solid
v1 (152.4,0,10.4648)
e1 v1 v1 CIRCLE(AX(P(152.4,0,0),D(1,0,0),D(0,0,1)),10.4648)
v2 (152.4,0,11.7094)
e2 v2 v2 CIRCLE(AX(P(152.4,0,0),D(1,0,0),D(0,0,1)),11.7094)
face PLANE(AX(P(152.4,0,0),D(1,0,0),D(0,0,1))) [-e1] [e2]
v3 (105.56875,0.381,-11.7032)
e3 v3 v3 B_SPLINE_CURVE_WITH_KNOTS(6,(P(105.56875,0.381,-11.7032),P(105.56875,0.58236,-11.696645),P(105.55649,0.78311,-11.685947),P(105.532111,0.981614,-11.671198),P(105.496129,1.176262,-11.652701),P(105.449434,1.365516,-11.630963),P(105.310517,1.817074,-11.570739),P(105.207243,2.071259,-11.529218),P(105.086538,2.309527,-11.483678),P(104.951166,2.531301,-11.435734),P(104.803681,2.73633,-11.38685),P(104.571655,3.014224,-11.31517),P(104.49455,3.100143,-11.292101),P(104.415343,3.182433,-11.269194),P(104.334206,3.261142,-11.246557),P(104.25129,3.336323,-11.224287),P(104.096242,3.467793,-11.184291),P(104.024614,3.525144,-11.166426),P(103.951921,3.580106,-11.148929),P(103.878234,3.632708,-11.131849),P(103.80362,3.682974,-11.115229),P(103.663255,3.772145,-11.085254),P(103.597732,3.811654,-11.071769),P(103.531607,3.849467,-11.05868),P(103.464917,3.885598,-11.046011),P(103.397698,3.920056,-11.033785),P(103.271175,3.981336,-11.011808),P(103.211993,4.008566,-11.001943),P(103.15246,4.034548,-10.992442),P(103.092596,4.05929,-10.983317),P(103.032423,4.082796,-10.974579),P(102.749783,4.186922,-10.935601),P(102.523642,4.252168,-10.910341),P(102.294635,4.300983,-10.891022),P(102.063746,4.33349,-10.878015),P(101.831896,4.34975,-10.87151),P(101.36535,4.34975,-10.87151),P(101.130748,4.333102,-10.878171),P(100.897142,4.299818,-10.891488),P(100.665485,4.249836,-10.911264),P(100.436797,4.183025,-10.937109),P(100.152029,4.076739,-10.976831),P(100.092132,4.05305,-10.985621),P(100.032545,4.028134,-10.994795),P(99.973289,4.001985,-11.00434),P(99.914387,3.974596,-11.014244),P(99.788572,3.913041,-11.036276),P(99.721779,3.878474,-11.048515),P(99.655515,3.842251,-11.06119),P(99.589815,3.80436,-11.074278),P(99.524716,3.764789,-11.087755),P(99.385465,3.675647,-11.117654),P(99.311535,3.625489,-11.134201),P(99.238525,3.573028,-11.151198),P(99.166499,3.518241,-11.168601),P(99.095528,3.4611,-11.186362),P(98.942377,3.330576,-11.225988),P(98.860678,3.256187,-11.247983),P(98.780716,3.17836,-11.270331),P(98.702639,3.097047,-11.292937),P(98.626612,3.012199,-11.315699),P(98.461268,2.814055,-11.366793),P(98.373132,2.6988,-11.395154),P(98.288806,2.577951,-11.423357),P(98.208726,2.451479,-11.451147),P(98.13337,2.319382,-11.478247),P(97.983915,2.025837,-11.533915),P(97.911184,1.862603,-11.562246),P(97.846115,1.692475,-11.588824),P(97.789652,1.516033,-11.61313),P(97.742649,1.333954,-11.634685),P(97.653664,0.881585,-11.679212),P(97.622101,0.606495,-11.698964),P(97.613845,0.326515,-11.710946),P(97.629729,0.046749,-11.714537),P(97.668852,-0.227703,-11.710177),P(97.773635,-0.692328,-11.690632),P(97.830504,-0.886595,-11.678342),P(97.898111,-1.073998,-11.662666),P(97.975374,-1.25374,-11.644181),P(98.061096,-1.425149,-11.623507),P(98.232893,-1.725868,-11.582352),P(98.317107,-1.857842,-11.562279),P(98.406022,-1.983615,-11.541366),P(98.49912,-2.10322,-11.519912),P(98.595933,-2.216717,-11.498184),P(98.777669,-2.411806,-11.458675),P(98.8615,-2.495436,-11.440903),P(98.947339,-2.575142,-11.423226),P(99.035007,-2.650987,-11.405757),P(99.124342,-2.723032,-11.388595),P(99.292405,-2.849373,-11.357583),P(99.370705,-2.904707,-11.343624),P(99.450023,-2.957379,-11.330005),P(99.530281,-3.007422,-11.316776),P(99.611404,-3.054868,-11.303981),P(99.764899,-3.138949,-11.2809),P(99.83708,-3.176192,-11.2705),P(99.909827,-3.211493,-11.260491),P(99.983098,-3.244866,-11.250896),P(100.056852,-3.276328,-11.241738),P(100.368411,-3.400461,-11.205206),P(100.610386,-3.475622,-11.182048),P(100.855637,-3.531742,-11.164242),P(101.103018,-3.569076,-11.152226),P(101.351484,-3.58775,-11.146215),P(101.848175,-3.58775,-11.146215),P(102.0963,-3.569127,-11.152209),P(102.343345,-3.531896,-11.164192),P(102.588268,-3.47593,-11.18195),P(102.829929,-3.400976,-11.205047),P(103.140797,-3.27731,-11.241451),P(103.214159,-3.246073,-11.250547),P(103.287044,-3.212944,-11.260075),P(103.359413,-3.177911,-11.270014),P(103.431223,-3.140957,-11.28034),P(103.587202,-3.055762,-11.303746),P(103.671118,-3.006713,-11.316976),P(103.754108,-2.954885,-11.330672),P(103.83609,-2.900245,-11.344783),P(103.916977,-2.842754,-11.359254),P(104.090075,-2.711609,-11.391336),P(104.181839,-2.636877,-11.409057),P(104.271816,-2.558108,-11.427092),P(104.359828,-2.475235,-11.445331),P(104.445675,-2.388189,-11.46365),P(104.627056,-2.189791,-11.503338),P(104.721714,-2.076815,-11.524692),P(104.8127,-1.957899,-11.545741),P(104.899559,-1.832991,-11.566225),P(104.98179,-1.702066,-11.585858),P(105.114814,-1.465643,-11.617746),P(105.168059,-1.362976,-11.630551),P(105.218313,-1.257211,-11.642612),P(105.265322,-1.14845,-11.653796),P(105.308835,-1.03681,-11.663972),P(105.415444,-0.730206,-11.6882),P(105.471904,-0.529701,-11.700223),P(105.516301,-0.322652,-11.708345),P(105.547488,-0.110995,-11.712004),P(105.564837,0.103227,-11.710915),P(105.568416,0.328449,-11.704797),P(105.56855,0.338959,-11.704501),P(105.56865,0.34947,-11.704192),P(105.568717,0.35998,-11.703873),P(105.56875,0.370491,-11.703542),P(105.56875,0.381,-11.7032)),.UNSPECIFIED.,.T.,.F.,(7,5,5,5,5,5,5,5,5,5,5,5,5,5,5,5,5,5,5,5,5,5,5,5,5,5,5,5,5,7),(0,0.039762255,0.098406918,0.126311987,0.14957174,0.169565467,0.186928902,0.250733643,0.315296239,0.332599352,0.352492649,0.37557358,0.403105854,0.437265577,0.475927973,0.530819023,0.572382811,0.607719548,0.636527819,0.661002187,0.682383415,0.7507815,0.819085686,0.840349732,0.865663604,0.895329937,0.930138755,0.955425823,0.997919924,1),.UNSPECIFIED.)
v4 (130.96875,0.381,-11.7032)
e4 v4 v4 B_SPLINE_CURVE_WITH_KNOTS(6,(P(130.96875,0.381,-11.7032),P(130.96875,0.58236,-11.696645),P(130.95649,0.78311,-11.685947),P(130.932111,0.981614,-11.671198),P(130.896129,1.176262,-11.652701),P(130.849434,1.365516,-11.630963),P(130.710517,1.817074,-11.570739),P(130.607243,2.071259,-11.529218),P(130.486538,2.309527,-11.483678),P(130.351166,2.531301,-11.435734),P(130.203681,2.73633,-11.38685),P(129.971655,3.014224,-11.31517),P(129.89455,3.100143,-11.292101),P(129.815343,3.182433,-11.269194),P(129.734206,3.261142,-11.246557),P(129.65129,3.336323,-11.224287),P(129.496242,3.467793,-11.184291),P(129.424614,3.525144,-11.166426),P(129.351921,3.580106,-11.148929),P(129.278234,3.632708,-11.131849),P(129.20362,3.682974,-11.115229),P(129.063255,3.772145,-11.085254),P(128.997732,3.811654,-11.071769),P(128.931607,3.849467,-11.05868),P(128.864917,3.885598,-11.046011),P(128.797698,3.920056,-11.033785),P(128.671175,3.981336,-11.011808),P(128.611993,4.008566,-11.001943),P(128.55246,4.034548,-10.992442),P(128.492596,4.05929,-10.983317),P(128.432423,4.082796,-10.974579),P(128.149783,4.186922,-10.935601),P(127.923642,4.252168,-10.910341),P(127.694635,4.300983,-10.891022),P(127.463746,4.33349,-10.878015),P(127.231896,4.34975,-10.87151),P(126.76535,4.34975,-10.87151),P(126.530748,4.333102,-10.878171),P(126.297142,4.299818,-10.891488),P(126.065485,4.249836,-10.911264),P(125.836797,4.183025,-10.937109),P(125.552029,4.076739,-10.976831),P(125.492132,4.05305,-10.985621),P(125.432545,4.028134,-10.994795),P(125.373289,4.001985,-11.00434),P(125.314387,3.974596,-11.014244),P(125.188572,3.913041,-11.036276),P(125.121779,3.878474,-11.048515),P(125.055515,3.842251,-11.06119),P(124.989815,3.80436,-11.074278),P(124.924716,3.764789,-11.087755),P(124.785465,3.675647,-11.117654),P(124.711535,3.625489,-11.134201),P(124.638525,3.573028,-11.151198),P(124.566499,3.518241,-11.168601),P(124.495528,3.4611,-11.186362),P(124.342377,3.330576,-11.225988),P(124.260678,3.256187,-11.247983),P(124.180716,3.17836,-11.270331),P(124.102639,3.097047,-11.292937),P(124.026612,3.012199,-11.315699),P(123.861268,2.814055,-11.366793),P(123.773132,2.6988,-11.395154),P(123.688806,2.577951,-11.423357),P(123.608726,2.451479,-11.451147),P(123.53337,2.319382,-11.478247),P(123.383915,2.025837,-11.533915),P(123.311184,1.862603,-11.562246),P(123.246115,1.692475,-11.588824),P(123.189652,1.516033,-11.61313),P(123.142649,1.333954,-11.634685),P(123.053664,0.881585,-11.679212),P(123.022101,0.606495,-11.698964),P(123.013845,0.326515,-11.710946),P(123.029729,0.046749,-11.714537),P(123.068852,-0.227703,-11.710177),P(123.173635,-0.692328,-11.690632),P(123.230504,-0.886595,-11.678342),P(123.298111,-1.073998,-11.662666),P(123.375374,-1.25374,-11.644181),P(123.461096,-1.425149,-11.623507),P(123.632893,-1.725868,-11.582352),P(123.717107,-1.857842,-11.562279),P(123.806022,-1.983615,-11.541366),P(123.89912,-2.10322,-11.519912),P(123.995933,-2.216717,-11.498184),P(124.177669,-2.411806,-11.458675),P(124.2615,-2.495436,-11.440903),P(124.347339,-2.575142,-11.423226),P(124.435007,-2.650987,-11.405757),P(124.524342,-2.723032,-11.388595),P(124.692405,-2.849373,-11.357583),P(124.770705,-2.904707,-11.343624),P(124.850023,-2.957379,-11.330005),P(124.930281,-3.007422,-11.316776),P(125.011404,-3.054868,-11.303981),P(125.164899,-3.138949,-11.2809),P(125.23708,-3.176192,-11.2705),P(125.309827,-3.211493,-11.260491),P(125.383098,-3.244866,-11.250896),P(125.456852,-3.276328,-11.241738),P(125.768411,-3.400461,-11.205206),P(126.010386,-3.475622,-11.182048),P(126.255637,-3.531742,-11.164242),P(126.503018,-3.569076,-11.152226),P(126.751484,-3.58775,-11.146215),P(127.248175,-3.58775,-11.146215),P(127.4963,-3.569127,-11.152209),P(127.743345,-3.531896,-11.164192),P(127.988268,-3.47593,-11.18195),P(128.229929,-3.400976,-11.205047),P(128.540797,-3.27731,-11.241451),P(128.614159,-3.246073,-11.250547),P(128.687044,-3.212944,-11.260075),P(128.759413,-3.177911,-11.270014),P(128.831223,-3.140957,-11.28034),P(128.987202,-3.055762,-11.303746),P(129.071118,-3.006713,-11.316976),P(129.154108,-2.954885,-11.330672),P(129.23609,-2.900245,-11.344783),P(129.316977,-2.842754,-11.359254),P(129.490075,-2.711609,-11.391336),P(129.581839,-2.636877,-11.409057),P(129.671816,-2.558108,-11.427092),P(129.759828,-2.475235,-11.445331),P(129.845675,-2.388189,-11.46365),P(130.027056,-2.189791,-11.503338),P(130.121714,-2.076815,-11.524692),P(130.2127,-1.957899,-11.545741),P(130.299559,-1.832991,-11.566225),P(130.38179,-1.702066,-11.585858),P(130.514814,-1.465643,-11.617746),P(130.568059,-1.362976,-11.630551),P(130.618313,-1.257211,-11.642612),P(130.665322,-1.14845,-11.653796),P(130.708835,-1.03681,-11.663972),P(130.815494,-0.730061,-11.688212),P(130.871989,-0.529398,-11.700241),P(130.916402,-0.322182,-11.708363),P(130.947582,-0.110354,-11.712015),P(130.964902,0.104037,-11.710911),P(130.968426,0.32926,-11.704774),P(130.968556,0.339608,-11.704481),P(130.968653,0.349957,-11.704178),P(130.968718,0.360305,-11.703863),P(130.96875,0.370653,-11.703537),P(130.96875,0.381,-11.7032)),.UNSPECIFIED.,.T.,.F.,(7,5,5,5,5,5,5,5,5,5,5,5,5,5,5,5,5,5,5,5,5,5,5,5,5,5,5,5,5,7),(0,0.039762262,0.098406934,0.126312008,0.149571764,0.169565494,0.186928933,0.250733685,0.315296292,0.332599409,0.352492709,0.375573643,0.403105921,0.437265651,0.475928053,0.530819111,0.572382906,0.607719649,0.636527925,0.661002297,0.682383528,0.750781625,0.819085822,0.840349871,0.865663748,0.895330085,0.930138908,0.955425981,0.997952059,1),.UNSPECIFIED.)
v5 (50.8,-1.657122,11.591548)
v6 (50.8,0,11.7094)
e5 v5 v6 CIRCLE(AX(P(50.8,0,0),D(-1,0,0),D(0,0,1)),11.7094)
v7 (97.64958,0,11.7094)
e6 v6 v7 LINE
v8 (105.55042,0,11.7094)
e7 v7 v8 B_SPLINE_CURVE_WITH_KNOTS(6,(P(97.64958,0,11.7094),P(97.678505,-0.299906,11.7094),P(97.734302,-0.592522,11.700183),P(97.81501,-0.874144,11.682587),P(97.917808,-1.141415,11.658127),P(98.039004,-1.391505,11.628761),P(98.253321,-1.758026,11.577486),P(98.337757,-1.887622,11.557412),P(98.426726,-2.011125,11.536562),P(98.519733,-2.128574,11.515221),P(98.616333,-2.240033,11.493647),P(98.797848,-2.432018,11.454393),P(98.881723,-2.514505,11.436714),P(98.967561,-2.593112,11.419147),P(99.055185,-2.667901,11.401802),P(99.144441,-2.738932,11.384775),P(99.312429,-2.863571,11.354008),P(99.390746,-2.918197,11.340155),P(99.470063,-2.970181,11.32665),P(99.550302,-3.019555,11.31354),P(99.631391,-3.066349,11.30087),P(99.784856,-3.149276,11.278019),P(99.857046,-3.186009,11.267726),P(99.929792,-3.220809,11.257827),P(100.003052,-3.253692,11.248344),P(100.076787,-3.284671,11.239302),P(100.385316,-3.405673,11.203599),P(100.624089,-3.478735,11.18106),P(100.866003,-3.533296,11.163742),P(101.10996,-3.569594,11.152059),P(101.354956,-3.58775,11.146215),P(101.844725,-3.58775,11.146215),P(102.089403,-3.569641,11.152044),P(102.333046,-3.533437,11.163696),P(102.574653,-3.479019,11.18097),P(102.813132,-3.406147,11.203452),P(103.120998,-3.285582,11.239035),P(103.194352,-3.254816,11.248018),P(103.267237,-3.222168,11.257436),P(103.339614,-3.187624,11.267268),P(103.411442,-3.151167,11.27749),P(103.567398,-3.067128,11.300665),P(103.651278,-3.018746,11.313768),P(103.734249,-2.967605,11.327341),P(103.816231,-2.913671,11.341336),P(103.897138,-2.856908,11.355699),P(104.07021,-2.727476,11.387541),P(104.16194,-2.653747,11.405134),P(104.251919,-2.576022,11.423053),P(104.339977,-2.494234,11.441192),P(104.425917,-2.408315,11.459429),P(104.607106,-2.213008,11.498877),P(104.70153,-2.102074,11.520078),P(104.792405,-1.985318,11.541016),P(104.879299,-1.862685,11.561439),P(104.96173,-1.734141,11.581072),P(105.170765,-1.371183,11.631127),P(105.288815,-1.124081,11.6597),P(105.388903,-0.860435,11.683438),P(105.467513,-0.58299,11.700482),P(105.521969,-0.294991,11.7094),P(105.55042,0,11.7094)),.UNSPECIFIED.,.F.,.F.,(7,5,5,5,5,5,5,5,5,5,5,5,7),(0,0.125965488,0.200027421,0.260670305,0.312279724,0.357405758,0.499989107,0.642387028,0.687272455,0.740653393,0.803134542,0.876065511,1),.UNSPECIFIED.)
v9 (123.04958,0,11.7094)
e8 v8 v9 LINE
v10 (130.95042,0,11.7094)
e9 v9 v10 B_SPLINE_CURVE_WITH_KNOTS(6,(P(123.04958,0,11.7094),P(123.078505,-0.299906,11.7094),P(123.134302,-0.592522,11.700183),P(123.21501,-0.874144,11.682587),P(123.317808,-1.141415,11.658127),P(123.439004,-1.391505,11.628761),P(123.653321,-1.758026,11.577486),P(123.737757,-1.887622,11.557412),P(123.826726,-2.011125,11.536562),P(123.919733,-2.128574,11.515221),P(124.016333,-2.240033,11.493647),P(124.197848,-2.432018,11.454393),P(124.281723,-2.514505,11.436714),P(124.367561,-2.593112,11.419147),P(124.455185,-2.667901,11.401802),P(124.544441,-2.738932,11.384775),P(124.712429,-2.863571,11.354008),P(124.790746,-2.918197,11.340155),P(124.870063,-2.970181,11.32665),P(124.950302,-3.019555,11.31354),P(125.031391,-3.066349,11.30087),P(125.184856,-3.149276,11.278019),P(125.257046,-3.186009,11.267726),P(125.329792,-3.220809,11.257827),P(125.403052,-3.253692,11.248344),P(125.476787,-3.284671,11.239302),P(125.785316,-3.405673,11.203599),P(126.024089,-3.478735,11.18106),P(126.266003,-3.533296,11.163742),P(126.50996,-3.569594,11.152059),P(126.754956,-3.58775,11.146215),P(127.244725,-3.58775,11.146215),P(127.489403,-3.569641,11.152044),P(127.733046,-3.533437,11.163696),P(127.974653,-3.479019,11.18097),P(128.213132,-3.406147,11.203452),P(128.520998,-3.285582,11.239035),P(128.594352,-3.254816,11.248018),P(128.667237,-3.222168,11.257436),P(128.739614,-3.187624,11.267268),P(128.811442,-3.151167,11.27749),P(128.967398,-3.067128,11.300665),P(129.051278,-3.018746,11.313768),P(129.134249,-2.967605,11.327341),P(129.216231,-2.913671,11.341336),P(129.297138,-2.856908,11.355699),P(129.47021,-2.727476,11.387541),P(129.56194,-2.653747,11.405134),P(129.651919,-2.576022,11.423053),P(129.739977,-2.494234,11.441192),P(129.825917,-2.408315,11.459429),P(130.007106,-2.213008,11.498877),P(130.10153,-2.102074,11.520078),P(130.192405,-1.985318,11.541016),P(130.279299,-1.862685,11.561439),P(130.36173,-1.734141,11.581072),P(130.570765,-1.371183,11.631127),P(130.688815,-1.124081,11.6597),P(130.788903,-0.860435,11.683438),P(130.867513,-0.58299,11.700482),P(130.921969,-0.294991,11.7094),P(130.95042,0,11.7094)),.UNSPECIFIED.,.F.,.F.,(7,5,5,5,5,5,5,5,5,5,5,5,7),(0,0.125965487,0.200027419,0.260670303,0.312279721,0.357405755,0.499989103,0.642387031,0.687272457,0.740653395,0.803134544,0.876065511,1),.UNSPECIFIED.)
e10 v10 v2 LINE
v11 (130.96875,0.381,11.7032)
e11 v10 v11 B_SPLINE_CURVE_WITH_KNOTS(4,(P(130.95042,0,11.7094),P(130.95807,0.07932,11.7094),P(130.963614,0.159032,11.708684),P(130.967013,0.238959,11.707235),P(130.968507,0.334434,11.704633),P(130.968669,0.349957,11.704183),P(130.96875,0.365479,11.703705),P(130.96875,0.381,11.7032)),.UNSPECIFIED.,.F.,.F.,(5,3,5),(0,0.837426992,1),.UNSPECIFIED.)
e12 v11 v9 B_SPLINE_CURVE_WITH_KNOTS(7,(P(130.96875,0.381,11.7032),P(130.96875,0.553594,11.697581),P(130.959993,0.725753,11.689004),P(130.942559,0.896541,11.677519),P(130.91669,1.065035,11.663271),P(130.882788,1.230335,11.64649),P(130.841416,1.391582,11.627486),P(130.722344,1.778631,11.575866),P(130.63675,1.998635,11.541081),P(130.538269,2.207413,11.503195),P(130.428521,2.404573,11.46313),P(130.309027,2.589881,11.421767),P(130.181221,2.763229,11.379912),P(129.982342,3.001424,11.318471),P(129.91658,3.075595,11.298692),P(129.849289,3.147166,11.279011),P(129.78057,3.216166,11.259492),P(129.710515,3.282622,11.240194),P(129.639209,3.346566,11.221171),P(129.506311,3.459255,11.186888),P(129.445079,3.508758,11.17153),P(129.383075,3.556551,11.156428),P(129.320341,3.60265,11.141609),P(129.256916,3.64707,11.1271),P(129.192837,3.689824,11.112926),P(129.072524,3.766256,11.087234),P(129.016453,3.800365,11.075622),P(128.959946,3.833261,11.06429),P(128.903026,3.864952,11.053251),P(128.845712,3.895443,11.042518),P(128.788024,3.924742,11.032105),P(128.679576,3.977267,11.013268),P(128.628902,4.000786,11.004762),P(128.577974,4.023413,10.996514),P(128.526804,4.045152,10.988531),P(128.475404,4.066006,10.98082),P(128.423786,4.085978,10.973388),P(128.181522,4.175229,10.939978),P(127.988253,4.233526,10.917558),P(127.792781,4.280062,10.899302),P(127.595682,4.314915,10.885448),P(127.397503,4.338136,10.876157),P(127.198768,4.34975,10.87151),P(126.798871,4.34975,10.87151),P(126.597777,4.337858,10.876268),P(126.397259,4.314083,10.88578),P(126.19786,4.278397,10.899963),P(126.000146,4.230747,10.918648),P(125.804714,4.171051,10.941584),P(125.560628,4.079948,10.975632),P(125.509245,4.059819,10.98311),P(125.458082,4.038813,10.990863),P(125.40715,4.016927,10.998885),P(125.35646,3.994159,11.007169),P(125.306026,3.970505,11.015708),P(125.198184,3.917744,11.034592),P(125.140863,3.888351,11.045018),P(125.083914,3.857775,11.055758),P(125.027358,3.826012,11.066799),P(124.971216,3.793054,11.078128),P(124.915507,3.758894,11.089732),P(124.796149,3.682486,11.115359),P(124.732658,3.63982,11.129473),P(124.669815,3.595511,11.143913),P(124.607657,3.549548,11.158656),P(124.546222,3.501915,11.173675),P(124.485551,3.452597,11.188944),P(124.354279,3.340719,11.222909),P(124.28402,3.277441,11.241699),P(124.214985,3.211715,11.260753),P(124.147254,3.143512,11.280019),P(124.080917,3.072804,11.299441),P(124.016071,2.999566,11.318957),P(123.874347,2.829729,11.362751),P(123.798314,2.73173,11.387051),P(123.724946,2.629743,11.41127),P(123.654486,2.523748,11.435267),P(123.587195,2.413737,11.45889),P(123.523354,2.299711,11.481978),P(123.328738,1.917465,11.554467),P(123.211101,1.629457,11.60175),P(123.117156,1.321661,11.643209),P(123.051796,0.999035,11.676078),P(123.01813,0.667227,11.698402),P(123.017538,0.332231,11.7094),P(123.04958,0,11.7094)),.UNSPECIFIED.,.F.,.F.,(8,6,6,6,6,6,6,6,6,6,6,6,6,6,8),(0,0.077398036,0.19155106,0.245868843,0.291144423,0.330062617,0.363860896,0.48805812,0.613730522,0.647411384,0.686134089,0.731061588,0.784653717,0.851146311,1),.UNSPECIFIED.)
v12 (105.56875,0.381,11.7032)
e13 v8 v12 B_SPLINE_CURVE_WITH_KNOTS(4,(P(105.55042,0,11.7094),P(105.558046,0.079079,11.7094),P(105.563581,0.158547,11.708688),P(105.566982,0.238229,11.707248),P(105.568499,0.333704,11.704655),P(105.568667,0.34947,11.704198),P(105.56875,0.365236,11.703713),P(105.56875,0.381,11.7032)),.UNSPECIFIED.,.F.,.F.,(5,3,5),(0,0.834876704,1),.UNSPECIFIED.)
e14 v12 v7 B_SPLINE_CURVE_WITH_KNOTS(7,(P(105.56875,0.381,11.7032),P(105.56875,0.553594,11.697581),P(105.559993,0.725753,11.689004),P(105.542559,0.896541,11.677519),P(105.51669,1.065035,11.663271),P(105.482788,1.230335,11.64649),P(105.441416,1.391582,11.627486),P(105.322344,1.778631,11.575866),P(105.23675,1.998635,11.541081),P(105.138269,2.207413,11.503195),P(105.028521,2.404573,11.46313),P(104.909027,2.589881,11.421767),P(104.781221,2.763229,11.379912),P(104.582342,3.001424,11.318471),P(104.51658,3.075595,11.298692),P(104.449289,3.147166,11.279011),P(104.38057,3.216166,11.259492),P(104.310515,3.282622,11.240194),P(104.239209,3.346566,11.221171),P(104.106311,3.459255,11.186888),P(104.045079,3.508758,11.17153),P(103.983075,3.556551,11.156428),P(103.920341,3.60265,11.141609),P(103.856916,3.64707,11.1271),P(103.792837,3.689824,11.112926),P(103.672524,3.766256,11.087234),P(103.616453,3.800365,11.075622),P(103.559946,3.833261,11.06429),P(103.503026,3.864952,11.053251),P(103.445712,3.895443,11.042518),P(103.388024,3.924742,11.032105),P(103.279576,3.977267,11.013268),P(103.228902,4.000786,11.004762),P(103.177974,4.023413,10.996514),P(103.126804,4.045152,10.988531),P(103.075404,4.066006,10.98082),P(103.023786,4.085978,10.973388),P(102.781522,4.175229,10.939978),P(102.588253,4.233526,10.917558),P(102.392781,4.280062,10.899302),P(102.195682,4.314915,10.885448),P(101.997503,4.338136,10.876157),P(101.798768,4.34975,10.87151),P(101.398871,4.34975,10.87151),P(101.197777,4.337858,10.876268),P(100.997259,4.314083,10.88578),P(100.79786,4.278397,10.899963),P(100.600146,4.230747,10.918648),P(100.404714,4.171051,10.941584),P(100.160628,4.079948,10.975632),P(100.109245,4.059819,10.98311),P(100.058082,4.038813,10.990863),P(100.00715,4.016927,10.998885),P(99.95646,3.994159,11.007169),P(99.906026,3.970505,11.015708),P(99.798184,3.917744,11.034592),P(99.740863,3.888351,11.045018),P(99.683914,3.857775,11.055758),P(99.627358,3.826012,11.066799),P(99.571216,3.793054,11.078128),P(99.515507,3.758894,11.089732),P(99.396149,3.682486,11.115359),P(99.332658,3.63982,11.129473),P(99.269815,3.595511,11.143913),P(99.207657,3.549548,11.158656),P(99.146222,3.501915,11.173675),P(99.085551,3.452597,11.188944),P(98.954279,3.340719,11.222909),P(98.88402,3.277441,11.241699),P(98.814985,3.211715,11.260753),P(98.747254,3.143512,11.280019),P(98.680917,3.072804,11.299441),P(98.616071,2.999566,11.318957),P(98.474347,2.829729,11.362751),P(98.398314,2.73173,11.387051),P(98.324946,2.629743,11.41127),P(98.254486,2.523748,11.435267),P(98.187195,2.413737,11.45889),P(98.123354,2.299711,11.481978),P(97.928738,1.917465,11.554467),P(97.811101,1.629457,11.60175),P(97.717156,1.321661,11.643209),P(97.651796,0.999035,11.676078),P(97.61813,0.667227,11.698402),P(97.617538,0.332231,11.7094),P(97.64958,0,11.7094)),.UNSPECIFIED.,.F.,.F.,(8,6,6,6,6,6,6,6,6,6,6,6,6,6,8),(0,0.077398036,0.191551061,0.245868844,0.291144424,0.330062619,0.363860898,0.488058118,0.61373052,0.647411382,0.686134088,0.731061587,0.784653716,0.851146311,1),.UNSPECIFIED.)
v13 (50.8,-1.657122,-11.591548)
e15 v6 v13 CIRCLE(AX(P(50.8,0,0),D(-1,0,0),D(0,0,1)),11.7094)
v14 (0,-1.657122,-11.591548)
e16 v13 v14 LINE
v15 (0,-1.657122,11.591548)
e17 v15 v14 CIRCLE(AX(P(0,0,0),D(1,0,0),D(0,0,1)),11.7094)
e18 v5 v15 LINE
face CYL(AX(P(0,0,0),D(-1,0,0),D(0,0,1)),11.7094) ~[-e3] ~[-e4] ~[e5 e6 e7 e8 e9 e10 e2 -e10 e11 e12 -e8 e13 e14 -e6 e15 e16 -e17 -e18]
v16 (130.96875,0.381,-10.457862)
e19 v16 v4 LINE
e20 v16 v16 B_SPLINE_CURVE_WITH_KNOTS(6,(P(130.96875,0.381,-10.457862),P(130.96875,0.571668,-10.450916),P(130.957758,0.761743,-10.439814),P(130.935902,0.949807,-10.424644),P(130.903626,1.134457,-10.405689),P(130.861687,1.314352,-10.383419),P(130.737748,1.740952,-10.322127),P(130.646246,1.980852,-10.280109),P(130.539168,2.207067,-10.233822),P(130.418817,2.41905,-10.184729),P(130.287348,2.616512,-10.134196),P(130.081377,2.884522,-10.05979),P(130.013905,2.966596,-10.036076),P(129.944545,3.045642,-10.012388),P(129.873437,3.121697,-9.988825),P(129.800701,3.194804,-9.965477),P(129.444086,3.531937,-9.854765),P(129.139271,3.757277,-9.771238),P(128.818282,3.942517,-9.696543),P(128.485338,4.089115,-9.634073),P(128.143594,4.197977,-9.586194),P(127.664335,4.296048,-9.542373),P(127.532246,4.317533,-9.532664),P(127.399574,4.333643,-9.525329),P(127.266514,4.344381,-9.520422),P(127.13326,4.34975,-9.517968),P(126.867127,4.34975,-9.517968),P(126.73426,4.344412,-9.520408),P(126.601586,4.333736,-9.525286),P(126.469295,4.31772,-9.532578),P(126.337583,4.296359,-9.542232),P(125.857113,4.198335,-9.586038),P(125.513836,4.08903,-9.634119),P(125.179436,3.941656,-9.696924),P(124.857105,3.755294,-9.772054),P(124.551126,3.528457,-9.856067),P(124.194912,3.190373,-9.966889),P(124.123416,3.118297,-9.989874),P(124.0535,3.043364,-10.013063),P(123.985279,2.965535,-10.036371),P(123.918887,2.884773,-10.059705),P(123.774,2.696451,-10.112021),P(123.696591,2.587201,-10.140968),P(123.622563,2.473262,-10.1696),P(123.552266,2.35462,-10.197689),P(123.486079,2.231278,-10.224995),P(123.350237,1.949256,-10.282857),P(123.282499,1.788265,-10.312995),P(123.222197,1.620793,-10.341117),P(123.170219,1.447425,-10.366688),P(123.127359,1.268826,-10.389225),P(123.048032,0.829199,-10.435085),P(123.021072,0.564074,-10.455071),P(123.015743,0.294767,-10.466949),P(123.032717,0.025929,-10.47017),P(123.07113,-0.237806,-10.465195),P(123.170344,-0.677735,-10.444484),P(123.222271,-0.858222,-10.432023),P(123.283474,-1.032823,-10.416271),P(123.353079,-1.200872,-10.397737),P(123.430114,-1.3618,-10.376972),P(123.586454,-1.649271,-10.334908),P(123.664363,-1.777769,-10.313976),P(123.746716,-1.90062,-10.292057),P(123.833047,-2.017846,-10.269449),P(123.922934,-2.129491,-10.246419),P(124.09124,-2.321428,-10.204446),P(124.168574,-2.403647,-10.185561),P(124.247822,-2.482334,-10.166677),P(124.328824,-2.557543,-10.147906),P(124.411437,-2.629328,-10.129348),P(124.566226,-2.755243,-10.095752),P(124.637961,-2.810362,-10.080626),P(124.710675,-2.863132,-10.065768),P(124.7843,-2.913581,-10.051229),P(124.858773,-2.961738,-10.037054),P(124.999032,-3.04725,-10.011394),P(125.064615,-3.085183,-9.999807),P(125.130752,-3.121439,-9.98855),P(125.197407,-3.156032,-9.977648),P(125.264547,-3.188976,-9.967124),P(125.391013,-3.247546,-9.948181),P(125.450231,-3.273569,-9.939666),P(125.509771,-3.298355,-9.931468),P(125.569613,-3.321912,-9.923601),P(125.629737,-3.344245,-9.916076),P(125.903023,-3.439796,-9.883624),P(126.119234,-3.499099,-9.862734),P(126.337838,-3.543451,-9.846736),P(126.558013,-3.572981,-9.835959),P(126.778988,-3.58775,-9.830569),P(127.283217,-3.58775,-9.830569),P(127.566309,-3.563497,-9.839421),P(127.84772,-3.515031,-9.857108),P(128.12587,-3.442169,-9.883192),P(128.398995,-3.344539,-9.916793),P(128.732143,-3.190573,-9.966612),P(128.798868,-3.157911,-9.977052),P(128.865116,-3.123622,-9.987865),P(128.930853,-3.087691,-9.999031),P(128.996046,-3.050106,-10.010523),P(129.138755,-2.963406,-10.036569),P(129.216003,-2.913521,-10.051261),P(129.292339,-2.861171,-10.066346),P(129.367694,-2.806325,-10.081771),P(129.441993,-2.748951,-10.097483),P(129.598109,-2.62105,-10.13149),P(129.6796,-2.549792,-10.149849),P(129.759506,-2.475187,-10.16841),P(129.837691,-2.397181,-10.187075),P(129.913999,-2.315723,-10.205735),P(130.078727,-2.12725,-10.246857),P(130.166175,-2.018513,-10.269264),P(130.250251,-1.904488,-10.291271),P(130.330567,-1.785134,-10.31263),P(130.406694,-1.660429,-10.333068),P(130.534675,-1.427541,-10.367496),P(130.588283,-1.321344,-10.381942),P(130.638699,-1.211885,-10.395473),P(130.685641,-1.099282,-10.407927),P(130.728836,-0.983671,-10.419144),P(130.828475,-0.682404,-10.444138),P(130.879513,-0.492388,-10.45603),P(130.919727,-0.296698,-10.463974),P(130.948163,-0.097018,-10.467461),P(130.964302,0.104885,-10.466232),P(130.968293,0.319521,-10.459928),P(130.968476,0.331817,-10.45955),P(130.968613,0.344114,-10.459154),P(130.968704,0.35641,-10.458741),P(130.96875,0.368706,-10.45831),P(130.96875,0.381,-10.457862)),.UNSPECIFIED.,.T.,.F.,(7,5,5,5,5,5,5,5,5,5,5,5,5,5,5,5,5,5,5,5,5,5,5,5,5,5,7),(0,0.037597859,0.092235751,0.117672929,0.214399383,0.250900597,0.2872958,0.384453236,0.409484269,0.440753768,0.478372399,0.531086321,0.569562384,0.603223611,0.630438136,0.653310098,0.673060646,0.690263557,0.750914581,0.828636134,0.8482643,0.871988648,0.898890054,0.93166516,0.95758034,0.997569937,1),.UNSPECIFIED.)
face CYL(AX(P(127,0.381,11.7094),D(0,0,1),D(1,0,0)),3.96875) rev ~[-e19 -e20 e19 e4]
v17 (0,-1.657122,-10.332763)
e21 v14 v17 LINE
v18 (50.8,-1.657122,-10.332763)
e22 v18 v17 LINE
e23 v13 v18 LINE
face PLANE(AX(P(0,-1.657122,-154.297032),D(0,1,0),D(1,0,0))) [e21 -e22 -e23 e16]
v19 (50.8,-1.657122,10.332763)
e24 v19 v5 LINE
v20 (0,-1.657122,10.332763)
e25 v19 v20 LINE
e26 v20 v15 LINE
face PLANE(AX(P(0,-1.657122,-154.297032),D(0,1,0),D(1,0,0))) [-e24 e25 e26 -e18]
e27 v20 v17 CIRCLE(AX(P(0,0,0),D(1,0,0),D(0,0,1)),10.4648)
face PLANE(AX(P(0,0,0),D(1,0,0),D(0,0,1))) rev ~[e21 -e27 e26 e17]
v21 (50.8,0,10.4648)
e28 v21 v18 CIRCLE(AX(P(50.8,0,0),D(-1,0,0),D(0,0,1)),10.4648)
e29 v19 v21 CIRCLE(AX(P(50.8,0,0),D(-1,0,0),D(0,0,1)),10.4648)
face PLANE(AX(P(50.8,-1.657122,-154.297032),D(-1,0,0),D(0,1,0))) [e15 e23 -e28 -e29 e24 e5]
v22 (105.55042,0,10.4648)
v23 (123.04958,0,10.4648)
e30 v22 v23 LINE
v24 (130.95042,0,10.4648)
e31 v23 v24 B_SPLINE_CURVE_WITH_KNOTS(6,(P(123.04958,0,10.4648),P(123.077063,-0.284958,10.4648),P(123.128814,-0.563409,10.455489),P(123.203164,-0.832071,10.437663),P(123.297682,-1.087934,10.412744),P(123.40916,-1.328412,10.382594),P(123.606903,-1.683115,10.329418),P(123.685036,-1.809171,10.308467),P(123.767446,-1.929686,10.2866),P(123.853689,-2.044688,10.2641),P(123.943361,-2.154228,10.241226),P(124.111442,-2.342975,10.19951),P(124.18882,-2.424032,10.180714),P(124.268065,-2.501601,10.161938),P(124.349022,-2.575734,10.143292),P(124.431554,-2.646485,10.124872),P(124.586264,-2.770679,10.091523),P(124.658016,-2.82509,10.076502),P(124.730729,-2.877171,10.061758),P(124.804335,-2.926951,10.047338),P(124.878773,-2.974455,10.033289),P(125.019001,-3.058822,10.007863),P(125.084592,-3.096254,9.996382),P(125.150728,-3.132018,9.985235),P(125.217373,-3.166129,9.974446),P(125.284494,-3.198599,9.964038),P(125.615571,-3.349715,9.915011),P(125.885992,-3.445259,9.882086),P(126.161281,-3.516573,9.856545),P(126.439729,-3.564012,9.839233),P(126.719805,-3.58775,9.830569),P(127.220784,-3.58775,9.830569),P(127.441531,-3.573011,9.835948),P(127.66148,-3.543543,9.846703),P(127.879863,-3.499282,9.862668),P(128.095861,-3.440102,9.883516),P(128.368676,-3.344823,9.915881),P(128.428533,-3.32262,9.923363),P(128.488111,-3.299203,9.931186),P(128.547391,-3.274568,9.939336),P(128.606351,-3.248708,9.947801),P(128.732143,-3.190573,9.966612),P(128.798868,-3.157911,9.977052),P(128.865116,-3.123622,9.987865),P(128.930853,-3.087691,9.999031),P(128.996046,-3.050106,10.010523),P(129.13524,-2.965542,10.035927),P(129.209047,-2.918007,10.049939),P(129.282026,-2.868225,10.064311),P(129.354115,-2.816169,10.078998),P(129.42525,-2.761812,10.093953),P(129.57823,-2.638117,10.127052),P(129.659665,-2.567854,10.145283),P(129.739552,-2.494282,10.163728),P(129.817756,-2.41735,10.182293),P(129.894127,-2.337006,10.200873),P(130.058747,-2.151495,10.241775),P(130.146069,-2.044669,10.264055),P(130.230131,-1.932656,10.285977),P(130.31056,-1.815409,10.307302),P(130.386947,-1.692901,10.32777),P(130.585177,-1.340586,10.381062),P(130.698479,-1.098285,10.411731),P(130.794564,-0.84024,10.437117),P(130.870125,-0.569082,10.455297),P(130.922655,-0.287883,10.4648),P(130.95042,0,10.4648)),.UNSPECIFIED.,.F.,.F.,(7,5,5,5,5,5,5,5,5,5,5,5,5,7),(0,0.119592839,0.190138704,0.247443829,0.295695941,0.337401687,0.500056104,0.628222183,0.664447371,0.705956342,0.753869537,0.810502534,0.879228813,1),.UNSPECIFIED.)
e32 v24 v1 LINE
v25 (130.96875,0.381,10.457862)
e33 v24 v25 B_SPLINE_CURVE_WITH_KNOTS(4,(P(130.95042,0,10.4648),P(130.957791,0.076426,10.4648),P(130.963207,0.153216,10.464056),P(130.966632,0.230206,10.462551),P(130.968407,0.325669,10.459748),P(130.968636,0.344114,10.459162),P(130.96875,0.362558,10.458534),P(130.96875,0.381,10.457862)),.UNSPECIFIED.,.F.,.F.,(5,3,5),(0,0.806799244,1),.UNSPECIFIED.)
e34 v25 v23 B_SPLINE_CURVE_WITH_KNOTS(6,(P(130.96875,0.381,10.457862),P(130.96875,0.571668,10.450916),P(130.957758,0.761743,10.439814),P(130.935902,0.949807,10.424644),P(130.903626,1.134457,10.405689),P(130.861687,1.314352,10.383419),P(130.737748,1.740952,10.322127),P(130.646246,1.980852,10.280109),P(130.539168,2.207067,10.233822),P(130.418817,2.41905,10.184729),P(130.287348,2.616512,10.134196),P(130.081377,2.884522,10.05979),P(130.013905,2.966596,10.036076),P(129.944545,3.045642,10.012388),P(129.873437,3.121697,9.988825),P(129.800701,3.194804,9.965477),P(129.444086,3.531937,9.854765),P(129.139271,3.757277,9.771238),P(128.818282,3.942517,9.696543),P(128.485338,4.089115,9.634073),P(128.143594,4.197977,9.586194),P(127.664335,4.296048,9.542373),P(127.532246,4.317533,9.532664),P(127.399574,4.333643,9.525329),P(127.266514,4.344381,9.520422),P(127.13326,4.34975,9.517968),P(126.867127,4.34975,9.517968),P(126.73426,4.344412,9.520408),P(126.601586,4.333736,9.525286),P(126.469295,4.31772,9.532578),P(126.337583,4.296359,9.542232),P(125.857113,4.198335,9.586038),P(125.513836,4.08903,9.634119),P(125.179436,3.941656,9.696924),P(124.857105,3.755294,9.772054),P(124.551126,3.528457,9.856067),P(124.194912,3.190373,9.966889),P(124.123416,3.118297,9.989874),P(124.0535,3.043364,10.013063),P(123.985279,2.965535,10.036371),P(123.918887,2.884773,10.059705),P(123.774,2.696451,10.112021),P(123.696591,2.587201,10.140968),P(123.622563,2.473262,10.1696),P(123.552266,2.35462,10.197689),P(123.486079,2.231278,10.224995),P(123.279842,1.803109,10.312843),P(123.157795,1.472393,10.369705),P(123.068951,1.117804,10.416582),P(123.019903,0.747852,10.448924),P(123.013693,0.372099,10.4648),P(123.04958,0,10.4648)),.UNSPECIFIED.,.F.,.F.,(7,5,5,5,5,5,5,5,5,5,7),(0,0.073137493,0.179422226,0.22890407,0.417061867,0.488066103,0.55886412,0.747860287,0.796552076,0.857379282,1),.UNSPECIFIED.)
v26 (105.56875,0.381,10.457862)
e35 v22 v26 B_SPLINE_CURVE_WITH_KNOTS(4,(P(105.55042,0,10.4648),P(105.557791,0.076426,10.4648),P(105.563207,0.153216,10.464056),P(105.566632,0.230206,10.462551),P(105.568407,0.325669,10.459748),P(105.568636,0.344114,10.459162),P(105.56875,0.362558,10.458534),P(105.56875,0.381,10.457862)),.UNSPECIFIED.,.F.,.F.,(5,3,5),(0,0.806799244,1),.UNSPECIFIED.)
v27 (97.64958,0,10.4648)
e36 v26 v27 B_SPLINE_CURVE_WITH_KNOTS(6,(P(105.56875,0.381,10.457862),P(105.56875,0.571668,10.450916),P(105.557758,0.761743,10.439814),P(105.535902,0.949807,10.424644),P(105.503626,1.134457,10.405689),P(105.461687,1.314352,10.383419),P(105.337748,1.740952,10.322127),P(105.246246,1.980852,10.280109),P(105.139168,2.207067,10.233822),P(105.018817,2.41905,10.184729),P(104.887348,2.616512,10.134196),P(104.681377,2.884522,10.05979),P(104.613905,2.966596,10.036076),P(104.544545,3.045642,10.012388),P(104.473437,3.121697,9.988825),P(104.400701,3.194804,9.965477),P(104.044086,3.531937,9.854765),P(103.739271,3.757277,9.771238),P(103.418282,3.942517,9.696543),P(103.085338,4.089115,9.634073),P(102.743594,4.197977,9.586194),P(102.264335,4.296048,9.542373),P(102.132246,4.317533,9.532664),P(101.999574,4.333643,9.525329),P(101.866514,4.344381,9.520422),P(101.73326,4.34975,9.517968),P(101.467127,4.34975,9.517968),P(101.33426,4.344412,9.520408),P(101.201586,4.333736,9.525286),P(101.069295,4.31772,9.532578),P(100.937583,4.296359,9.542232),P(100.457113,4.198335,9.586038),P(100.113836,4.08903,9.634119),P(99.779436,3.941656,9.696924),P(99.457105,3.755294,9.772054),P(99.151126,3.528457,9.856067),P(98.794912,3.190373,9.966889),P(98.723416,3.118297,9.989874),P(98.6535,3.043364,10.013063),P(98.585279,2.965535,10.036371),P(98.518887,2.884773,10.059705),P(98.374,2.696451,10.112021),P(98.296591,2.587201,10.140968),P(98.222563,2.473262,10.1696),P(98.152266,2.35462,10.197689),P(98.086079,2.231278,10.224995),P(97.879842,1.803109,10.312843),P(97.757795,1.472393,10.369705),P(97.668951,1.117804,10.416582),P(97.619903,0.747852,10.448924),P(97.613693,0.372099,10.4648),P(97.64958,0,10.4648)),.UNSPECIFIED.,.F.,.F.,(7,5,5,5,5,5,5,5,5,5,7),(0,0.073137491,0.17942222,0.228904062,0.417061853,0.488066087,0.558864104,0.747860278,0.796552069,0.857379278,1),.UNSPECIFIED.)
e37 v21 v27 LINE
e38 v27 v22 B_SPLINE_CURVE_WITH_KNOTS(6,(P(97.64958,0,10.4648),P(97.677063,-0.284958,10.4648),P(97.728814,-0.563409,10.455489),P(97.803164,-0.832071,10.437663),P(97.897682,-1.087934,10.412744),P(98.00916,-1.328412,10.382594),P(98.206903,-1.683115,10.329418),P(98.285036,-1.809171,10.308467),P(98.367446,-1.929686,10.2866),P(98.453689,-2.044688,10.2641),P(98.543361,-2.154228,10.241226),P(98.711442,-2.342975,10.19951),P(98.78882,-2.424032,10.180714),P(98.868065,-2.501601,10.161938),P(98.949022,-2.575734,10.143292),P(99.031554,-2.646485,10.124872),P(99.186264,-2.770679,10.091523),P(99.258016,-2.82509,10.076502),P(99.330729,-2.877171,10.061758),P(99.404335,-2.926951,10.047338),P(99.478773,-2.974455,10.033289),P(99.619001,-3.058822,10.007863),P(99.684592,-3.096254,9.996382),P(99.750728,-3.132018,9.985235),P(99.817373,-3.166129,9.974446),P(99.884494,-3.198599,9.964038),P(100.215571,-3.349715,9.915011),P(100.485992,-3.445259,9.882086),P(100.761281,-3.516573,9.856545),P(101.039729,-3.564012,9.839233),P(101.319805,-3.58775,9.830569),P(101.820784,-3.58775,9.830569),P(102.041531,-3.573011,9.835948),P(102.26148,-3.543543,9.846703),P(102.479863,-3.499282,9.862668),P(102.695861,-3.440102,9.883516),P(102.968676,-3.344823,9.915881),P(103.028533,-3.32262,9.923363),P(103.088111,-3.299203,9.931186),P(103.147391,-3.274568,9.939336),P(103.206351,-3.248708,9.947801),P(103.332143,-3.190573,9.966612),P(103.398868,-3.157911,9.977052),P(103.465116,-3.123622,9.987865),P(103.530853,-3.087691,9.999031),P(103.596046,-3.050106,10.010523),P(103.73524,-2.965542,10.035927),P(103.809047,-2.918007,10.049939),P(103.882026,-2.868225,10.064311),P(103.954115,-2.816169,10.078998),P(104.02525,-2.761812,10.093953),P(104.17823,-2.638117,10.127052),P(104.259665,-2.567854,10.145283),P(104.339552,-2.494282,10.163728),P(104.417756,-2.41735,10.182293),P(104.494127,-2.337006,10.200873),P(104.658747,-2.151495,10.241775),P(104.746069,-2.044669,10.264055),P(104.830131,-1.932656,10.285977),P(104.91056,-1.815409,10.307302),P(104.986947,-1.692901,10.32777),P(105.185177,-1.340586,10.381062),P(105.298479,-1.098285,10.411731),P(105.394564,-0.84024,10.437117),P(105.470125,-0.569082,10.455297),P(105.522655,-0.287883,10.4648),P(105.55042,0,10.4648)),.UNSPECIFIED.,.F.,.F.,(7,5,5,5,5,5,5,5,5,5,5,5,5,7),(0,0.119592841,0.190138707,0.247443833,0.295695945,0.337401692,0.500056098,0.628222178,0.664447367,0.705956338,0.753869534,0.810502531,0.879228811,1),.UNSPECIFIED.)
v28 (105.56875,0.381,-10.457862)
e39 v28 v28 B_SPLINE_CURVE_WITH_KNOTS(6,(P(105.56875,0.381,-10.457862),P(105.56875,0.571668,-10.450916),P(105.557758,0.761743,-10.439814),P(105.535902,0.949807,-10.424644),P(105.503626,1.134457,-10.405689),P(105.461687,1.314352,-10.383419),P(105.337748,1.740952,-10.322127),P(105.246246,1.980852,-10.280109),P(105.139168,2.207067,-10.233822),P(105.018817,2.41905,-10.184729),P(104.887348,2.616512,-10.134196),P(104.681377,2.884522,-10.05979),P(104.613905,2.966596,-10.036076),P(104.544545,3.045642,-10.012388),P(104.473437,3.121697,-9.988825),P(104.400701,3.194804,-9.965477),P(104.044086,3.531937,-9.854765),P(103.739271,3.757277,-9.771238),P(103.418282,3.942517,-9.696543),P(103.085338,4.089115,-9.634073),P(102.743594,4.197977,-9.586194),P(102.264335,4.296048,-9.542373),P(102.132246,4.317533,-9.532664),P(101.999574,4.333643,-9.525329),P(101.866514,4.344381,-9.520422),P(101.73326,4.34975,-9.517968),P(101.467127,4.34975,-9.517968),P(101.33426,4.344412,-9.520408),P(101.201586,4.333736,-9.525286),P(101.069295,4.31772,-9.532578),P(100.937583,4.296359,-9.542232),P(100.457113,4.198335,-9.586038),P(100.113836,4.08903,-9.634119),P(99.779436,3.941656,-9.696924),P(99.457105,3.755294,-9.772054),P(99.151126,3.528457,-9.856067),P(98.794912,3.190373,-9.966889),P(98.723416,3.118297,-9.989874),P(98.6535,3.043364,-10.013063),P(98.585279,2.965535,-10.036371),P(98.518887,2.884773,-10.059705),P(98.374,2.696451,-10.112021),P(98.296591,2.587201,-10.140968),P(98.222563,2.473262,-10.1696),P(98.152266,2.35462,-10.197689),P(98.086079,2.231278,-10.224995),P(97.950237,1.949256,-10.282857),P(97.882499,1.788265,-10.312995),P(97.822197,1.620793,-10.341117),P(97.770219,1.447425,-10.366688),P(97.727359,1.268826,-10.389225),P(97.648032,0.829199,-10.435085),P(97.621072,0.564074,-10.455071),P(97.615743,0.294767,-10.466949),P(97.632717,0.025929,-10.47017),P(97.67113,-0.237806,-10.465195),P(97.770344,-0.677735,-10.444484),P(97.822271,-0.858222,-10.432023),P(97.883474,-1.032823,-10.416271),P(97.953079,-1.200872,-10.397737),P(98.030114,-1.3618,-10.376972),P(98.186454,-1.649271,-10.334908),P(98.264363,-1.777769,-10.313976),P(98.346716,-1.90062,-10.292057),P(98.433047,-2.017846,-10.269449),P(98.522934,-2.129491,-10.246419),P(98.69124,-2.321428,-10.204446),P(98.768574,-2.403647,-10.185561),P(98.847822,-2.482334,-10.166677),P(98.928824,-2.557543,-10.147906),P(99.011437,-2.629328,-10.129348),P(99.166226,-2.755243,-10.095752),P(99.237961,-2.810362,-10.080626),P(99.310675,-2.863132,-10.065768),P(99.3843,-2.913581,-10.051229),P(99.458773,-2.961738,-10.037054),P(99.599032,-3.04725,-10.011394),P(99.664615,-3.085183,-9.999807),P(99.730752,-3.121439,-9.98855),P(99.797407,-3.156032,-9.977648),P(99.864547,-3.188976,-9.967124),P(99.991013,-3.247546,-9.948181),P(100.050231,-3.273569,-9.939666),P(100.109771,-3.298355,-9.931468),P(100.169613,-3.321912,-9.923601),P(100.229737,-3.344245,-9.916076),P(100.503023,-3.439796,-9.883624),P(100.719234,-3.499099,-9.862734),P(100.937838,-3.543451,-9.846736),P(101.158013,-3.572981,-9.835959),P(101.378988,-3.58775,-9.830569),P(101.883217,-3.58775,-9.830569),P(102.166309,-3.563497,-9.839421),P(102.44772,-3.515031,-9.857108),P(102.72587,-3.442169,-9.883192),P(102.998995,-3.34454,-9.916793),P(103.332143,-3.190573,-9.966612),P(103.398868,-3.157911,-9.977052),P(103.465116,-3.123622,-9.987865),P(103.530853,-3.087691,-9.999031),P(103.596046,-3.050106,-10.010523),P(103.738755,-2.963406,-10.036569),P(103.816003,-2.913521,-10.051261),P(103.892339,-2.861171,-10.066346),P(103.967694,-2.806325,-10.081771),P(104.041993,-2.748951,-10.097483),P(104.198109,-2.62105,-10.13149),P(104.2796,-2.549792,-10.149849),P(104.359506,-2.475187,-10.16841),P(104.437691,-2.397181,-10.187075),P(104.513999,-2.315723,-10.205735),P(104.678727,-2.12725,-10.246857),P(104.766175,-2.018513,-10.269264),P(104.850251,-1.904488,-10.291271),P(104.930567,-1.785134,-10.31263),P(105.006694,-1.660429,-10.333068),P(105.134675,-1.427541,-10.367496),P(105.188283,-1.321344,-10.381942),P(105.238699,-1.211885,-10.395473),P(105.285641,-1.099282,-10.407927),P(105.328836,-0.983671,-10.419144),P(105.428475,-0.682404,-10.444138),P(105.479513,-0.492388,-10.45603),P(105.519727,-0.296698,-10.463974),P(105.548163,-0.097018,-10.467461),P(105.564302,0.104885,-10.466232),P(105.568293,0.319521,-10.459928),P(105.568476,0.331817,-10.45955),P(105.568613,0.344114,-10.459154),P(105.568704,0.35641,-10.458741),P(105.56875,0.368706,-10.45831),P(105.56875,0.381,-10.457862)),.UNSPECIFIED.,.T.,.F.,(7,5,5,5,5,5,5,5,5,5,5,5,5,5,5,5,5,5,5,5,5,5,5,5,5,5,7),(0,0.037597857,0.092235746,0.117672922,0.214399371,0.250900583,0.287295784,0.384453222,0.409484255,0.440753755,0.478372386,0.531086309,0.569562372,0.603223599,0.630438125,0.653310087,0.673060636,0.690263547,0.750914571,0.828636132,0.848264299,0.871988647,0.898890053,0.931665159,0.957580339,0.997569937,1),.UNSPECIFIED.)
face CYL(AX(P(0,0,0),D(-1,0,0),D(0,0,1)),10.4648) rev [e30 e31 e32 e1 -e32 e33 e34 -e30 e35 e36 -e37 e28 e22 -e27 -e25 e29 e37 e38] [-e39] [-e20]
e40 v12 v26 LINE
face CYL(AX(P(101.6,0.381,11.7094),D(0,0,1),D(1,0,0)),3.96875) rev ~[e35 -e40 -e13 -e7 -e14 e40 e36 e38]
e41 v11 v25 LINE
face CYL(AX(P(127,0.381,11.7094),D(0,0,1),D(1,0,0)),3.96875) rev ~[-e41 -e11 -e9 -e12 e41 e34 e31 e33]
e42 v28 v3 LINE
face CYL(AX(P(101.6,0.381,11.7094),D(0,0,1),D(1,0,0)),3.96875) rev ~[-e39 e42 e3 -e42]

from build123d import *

# Parameters (mm, degrees)
SKETCH3_R               = 11.7094
SKETCH3_R_2             = 10.4648
BOSS_EXTRUDE1_DEPTH     = 152.4
CUT_EXTRUDE1_DEPTH      = 154.29703225
CUT_EXTRUDE1_DEPTH_BACK = 154.29703225
SKETCH4_W               = 50.8
SKETCH4_H               = 19.05
SKETCH8_R               = 3.96875
CUT_EXTRUDE2_DEPTH      = 155.632823947


with BuildPart() as part:
    # Sketch3 → Boss-Extrude1 (new body)
    with BuildSketch(Plane(origin=(0, 0, 0), x_dir=(0, 0, -1), z_dir=(1, 0, 0))):
        with Locations(Location((0, 0, 0), (0, 0, 180))):
            Circle(SKETCH3_R)
        with Locations(Location((0, 0, 0), (0, 0, 180))):
            Circle(SKETCH3_R_2, mode=Mode.SUBTRACT)
    extrude(amount=BOSS_EXTRUDE1_DEPTH)

    # Sketch4 → Cut-Extrude1 (cut, two sides: drawn at the far end of the back side and taken through both)
    with BuildSketch(Plane.XY.offset(-CUT_EXTRUDE1_DEPTH_BACK)):
        with Locations((25.4, 7.867878263)):
            Rectangle(SKETCH4_W, SKETCH4_H)
    extrude(amount=CUT_EXTRUDE1_DEPTH + CUT_EXTRUDE1_DEPTH_BACK, mode=Mode.SUBTRACT)

    # Sketch8 → Cut-Extrude2 (cut, through all)
    with BuildSketch(Plane.XY.offset(11.7094)):
        with Locations((101.6, 0.381)):
            Circle(SKETCH8_R)
        with Locations((127, 0.381)):
            Circle(SKETCH8_R)
    extrude(amount=-CUT_EXTRUDE2_DEPTH, mode=Mode.SUBTRACT)


solid = part.part
